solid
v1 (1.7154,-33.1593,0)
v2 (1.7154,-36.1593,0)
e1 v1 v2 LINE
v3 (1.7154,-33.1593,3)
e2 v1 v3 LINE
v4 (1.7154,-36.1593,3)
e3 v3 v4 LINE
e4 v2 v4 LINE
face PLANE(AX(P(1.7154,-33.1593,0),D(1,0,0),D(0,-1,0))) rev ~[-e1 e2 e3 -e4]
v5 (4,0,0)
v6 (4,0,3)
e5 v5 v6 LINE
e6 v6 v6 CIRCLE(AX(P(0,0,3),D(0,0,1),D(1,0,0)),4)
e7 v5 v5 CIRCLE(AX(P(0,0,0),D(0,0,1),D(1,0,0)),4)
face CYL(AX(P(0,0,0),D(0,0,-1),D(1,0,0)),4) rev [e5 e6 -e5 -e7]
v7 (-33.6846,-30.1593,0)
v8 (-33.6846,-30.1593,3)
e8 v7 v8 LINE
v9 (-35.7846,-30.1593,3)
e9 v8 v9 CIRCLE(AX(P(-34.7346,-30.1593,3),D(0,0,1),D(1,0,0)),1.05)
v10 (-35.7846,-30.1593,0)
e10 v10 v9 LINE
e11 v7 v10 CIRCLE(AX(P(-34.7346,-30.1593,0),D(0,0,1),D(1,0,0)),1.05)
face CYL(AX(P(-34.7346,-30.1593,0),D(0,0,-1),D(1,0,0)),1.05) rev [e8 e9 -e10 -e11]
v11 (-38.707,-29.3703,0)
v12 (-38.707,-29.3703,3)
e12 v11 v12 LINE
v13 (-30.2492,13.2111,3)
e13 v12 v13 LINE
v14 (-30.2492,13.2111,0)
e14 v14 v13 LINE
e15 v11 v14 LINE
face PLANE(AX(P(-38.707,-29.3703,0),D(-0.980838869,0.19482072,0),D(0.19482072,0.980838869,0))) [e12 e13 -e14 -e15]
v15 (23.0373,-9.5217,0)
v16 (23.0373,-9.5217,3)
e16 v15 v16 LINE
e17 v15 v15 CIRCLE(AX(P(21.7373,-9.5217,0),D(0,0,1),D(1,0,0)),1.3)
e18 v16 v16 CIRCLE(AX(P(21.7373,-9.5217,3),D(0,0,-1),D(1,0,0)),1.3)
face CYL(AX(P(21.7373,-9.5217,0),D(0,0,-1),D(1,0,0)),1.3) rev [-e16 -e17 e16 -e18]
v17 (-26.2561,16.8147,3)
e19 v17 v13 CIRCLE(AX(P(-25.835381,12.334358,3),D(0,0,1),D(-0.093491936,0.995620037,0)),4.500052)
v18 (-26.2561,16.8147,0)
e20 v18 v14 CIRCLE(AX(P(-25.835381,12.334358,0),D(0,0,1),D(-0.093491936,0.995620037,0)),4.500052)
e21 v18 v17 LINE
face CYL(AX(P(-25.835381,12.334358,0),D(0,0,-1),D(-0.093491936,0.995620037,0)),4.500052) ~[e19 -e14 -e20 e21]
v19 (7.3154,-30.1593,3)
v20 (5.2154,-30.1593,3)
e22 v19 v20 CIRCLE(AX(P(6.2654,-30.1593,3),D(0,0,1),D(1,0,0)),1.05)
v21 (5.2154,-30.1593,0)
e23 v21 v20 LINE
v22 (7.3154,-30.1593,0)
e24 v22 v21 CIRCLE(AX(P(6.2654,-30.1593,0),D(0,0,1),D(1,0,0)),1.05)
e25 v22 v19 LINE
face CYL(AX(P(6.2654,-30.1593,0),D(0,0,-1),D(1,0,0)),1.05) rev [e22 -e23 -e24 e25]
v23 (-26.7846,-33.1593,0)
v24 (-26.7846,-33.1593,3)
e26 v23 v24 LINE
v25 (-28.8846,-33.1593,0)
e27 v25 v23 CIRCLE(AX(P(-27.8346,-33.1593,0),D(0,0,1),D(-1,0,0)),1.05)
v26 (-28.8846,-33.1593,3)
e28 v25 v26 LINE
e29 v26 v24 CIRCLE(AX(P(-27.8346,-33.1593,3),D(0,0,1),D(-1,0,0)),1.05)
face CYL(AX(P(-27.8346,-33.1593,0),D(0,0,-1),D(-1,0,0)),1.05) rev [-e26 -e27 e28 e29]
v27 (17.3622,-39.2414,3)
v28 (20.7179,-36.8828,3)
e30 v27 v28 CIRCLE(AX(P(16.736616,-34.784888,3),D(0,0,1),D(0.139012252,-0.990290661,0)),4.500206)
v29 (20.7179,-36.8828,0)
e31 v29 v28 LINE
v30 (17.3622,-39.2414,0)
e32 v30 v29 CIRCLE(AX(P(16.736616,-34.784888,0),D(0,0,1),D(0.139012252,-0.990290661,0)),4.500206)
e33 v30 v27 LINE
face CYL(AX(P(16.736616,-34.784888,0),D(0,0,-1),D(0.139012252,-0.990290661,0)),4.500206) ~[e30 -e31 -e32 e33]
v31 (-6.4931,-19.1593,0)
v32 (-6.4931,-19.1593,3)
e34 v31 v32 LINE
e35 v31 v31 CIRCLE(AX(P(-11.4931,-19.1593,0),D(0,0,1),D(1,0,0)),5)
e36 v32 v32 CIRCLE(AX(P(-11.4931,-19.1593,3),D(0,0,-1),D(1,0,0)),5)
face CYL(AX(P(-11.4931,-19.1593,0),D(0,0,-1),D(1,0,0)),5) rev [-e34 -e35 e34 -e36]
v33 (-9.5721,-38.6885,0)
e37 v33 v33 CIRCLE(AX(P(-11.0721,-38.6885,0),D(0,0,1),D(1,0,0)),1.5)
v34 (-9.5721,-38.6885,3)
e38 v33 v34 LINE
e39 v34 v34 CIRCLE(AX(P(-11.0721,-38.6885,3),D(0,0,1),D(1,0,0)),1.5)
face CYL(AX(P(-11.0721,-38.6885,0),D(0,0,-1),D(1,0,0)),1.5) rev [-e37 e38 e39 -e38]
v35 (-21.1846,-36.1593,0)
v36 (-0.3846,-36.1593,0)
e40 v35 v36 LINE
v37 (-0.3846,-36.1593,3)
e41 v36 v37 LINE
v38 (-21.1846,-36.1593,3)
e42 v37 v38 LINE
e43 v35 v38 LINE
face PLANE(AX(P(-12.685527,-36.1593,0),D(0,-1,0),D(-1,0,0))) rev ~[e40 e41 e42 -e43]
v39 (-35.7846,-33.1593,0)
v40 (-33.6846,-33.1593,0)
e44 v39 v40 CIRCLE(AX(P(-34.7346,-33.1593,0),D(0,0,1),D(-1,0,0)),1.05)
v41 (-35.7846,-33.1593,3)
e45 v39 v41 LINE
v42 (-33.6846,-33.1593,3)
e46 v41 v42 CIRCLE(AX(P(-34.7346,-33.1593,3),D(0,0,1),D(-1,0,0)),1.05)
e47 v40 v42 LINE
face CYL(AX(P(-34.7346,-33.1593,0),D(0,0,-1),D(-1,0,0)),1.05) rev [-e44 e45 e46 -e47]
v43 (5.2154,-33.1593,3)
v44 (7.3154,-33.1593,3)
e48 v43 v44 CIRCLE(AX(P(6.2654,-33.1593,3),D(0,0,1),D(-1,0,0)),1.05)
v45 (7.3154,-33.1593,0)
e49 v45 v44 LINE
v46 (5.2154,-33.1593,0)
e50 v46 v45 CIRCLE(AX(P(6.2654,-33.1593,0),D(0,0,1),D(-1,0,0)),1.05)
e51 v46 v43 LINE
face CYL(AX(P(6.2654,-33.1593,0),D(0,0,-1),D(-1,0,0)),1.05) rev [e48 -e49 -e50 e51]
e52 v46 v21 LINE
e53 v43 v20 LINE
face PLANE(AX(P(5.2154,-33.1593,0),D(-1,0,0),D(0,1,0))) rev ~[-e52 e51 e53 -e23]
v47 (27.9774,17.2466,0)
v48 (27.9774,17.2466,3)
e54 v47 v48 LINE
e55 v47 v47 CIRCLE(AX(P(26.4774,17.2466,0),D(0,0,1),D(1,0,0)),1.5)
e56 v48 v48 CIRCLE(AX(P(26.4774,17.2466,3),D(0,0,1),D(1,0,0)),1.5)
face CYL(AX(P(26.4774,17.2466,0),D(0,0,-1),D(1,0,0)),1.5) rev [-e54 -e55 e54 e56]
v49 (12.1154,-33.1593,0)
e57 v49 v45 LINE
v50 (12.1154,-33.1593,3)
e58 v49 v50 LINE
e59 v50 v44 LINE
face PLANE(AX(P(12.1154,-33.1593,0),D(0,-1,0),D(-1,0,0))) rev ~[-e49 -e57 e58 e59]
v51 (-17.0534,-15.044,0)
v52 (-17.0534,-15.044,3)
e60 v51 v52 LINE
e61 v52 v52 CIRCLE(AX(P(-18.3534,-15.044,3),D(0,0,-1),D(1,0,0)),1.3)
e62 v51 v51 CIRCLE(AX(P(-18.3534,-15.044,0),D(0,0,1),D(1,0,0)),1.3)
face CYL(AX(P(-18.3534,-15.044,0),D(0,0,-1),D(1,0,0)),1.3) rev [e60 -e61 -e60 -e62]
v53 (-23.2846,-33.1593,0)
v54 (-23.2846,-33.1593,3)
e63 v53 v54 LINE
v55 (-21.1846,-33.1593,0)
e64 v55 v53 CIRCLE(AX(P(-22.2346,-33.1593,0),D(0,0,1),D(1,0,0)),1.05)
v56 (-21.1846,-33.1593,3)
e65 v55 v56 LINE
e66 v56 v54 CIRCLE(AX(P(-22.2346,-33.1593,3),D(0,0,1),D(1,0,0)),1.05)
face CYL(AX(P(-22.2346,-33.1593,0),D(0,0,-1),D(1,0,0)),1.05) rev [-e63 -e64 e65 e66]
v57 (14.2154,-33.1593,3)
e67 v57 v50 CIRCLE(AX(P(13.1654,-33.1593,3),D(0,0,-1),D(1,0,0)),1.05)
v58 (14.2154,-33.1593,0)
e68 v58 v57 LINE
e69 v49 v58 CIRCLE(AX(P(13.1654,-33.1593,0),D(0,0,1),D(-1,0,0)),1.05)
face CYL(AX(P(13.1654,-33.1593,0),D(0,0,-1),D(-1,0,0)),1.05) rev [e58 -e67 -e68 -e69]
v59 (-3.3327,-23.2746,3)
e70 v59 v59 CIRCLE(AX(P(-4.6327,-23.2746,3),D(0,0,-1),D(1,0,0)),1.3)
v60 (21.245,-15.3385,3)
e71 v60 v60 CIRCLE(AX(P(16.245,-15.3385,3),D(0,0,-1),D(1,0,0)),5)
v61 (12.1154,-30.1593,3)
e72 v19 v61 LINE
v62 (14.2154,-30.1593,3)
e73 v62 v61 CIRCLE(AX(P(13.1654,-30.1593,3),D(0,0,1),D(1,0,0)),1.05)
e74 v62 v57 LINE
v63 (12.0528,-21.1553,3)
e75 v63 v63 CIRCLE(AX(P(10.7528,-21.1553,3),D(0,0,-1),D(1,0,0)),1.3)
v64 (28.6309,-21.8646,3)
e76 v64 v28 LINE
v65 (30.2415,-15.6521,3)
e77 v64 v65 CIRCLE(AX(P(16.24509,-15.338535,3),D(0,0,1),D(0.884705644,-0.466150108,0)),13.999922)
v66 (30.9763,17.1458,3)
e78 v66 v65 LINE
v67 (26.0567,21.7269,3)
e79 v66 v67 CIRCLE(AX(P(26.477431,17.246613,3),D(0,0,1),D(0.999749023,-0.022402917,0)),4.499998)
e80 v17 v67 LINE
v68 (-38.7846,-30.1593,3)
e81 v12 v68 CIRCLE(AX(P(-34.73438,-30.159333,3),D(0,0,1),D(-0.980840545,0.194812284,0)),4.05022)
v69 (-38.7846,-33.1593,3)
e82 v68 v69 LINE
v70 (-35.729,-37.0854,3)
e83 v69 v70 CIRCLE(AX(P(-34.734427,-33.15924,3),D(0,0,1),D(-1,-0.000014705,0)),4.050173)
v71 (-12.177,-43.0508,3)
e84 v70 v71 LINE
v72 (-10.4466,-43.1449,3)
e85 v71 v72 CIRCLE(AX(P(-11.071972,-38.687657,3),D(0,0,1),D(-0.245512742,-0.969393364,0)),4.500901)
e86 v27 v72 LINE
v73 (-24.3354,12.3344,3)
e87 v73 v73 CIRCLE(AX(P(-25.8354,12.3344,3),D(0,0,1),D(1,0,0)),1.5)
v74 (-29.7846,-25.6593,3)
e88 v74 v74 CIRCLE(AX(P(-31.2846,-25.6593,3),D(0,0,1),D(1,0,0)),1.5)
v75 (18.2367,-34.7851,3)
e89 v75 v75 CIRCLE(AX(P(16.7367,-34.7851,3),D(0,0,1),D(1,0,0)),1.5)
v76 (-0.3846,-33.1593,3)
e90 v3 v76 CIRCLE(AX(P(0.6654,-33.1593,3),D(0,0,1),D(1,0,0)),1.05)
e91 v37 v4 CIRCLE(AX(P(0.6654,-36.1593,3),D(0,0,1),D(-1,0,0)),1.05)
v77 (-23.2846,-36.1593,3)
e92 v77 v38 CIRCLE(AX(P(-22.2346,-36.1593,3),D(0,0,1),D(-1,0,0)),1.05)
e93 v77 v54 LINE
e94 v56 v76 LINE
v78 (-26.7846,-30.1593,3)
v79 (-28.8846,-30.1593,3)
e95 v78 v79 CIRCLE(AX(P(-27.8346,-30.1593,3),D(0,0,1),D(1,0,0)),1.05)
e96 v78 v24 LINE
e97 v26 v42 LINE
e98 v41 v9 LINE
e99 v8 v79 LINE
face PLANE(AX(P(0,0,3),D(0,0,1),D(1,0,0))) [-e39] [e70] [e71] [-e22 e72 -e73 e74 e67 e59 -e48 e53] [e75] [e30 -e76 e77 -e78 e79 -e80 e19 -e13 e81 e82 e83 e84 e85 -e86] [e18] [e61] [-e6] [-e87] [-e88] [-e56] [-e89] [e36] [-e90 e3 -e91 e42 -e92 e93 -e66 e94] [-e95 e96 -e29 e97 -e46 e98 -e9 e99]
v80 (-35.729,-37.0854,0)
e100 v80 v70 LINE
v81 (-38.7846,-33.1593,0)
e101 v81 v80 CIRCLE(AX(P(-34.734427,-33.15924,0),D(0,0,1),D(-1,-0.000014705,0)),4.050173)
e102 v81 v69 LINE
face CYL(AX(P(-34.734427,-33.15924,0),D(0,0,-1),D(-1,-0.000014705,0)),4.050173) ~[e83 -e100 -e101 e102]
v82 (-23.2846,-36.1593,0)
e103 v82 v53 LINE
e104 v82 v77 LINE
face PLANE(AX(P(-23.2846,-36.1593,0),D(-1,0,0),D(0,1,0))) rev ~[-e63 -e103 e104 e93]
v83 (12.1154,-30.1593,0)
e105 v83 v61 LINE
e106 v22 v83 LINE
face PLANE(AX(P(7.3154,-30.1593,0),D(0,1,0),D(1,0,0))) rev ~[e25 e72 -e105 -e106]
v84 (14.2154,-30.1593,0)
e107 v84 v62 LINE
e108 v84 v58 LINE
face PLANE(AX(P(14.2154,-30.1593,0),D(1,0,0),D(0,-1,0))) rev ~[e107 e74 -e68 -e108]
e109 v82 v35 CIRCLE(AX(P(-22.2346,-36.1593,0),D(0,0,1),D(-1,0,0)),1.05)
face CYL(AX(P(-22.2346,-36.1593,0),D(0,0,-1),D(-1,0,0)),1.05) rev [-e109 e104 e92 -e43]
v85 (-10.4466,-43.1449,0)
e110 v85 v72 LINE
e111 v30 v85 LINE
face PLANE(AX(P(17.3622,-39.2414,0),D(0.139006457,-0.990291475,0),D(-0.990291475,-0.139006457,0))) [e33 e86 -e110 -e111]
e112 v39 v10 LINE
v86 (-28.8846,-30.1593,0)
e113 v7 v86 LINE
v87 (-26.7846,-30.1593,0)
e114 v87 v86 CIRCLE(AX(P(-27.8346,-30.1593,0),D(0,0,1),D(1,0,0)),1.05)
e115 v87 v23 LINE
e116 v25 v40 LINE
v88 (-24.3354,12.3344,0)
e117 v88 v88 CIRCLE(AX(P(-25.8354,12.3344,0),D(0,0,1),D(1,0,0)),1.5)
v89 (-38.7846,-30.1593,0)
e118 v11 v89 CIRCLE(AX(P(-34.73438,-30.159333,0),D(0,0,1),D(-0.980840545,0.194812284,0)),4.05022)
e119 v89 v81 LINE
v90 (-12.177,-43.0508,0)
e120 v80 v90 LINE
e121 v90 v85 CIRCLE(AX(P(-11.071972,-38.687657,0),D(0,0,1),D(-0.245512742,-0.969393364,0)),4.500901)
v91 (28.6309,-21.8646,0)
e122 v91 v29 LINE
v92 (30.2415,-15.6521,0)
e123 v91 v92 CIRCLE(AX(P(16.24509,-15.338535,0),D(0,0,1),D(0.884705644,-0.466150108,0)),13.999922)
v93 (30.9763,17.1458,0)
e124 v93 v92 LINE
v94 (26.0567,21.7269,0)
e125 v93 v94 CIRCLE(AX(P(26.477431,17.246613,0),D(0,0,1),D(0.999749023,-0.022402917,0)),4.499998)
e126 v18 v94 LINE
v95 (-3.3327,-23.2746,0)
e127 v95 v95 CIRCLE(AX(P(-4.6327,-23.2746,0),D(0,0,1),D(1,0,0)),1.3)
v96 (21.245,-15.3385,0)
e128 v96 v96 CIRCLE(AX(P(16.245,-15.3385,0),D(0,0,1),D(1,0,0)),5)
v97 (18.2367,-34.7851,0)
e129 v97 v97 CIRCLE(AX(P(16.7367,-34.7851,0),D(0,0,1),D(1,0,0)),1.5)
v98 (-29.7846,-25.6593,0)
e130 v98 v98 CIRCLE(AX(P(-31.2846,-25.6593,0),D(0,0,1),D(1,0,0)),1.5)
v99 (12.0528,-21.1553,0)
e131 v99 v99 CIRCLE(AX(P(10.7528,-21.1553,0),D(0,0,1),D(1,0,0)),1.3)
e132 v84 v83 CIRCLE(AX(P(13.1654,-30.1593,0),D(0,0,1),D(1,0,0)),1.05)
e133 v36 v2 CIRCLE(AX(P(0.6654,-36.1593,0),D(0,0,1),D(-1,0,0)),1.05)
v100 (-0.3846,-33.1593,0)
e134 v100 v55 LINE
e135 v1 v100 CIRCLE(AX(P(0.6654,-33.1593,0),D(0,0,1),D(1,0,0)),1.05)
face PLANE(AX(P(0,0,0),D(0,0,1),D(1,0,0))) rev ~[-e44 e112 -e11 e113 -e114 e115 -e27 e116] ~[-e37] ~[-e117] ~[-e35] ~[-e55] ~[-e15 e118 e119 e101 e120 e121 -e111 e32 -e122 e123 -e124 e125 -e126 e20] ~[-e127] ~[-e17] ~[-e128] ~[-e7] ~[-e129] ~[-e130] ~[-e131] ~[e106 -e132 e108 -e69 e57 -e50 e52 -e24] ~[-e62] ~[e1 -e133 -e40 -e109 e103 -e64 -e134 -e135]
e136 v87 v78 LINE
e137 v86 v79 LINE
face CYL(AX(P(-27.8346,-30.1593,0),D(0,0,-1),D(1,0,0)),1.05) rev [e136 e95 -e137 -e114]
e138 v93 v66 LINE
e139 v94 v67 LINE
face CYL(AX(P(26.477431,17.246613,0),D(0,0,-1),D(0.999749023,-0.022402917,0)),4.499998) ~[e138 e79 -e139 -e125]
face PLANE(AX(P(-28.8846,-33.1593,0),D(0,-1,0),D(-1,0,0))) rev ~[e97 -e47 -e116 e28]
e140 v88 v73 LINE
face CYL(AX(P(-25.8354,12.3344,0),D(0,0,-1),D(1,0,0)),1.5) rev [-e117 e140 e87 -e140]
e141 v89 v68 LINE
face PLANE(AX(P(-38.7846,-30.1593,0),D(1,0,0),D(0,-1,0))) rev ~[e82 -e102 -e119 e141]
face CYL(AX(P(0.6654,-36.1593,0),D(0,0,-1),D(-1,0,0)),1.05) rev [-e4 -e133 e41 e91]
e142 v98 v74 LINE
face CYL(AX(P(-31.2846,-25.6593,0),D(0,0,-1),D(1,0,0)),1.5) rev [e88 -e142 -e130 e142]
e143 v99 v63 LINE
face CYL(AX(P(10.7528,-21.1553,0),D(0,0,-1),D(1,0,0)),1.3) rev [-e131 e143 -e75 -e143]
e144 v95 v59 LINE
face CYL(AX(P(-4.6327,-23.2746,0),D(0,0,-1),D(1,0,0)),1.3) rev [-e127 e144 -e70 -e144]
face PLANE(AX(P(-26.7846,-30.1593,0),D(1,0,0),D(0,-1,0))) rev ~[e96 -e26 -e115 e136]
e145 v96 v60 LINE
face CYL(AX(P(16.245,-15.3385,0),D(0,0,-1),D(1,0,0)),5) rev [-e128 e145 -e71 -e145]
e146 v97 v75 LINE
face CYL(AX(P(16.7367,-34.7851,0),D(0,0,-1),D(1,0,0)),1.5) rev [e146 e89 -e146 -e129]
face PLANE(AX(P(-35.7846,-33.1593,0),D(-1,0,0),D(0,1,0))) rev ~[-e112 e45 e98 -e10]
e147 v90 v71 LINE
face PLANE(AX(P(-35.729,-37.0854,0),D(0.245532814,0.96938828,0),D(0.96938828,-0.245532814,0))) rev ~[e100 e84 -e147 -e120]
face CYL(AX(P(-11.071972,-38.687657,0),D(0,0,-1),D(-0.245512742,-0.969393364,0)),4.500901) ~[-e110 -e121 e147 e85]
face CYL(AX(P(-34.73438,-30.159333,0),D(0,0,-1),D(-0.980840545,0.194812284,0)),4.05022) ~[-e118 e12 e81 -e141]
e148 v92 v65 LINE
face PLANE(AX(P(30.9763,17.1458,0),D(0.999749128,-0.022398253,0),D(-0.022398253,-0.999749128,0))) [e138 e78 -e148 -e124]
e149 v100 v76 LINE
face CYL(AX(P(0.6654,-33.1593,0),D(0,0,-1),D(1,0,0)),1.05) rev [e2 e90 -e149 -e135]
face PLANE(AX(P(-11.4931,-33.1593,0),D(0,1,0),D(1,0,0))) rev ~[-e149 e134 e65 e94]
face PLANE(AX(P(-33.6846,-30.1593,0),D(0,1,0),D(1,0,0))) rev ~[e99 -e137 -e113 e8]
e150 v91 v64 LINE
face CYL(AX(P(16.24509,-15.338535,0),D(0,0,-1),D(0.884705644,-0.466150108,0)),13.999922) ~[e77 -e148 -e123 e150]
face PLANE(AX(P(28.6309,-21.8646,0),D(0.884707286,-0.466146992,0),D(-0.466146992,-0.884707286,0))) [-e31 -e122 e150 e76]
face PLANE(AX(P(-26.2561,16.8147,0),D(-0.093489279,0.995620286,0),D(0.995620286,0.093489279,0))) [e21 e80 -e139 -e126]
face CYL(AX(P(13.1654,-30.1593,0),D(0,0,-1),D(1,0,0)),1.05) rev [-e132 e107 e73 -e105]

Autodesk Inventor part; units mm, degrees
ref_plane "YZ Plane" through (0, 0, 0) normal (1, 0, 0) x (0, 1, 0)
ref_plane "XZ Plane" through (0, 0, 0) normal (0, 1, 0) x (-1, 0, 0)
ref_plane "XY Plane" through (0, 0, 0) normal (0, 0, 1) x (1, 0, 0)
sketch "スケッチ1" plane through (0, 0, 0) normal (0, 0, 1) x (1, 0, 0)
  circle A0 centre (0, 0) radius 18
  circle A1 centre (-35.3982, 10.7044) radius 1.5
  line L0 (-33.8465, 6.7744) -> (-39.6634, 9.2696)
  arc A2 (-31.9879, 5.2949) -> (-33.8465, 6.7744) centre (-35.6204, 2.6388) ccw
  line L1 (-18.0583, -13.7557) -> (-31.9879, 5.2949)
  arc A3 (-17.339, -17.5569) -> (-18.0583, -13.7557) centre (-21.6908, -16.4118) ccw
  line L2 (-17.339, -17.5569) -> (-23.8868, -42.4405)
  line L3 (21.0739, -11.4259) -> (29.592, -35.7057)
  arc A4 (21.5077, -7.5456) -> (21.0739, -11.4259) centre (25.3202, -9.9362) ccw
  line L4 (34.045, 12.4488) -> (21.5077, -7.5456)
  arc A5 (36.6836, 14.4025) -> (34.045, 12.4488) centre (37.8575, 10.0583) ccw
  line L5 (40.7974, 15.5141) -> (36.6836, 14.4025)
  circle A6 centre (36.7736, 17.5344) radius 1.5
  circle A7 centre (25.6508, -33.5339) radius 1.5
  circle A8 centre (-20.132, -39.9603) radius 1.5
  arc A9 (-23.8868, -42.4405) -> (-19.5065, -44.4166) centre (-20.132, -39.9603) ccw
  line L6 (-19.5065, -44.4166) -> (26.2763, -37.9902)
  arc A10 (26.2763, -37.9902) -> (29.592, -35.7057) centre (25.6508, -33.5339) ccw
  circle A11 centre (27.3908, 10.6821) radius 1.5
  arc A12 (-36.1544, 15.1404) -> (-39.6634, 9.2696) centre (-35.3982, 10.7044) ccw
  arc A13 (40.7942, 15.5132) -> (36.6479, 22.0326) centre (36.7736, 17.5344) ccw
  arc A14 (-0.5868, 20.9918) -> (-3.5285, 20.7014) centre (0, 0) ccw
  line L7 (-36.1544, 15.1404) -> (-3.5285, 20.7014)
  line L8 (-0.5868, 20.9918) -> (36.6479, 22.0326)
  circle A15 centre (14, -17.4118) radius 14 construction
  circle A16 centre (-14, -17.4118) radius 14 construction
  line L9 (-170.6512, -31.4118) -> (202.8656, -31.4118)
  circle A17 centre (-11.0721, -38.6885) radius 3
  circle A18 centre (16.7367, -34.7851) radius 3
  circle A19 centre (26.4774, 17.2466) radius 3
  circle A20 centre (-25.8354, 12.3344) radius 3
  circle A21 centre (0, 0) radius 20.55 construction
  circle A22 centre (-25.8354, 12.3344) radius 1.5
  circle A23 centre (26.4774, 17.2466) radius 1.5
  circle A24 centre (16.7367, -34.7851) radius 1.5
  circle A25 centre (-11.0721, -38.6885) radius 1.5
  circle A26 centre (-11.0721, -38.6885) radius 4.5
  circle A27 centre (16.7367, -34.7851) radius 4.5
  circle A28 centre (26.4774, 17.2466) radius 4.5
  circle A29 centre (-25.8354, 12.3344) radius 4.5
  line L10 (32.7821, 19.6122) -> (19.0889, -6.6924)
  line L11 (-15.7064, -12.7325) -> (-31.5648, 13.0613)
  line L12 (-15.6358, -40.1451) -> (-14.6718, -16.7004)
  line L13 (18.3467, -10.7856) -> (21.1838, -34.078)
  circle A30 centre (0, 0) radius 4
  circle A31 centre (-25.8354, 12.3344) radius 1.5
  circle A32 centre (26.4774, 17.2466) radius 1.5
  circle A33 centre (16.7367, -34.7851) radius 1.5
  circle A34 centre (-11.0721, -38.6885) radius 1.5
  circle A35 centre (14, -17.4118) radius 14 construction
  circle A36 centre (-14, -17.4118) radius 14 construction
  circle A37 centre (0, 0) radius 4
  arc A38 (-26.2561, 16.8147) -> (-29.9839, 14.078) centre (-25.8354, 12.3344) ccw
  arc A39 (30.9006, 16.4185) -> (26.0567, 21.7269) centre (26.4774, 17.2466) ccw
  arc A40 (17.3622, -39.2414) -> (21.1599, -35.6132) centre (16.7367, -34.7851) ccw
  arc A41 (-12.1183, -43.0652) -> (-10.4466, -43.1449) centre (-11.0721, -38.6885) ccw
  circle A42 centre (-14, -17.4118) radius 5
  circle A43 centre (14, -17.4118) radius 5
  circle A44 centre (0, 0) radius 22.3421 construction
  line L14 (-30.3415, -4.2724) -> (0, -28.6685) construction
  line L15 (0, -28.6685) -> (32.9859, -2.1461) construction
  circle A45 centre (-14, -17.4118) radius 8 construction
  circle A46 centre (14, -17.4118) radius 8 construction
  circle A47 centre (-20.2346, -12.3988) radius 1.3
  circle A48 centre (-7.7654, -22.4248) radius 1.3
  circle A49 centre (7.7654, -22.4248) radius 1.3
  circle A50 centre (20.2346, -12.3988) radius 1.3
  line L16 (-170.6512, -31.4118) -> (202.8656, -31.4118)
  line L17 (-42.4, -28.4118) -> (-37.6, -28.4118)
  line L18 (-35.5, -28.4118) -> (-35.5, -31.4118)
  line L19 (-37.6, -31.4118) -> (-42.4, -31.4118)
  line L20 (-44.5, -31.4118) -> (-44.5, -28.4118)
  line L21 (-2.4, -28.4118) -> (2.4, -28.4118)
  line L22 (4.5, -28.4118) -> (4.5, -31.4118)
  line L23 (2.4, -31.4118) -> (-2.4, -31.4118)
  line L24 (-4.5, -31.4118) -> (-4.5, -28.4118)
  line L25 (-30.4, -31.4118) -> (-9.6, -31.4118)
  line L26 (-7.5, -31.4118) -> (-7.5, -34.4118)
  line L27 (-9.6, -34.4118) -> (-30.4, -34.4118)
  line L28 (-32.5, -34.4118) -> (-32.5, -31.4118)
  arc A51 (-42.4, -28.4118) -> (-44.5, -28.4118) centre (-43.45, -28.4118) ccw
  arc A52 (-35.5, -28.4118) -> (-37.6, -28.4118) centre (-36.55, -28.4118) ccw
  arc A53 (-44.5, -31.4118) -> (-42.4, -31.4118) centre (-43.45, -31.4118) ccw
  arc A54 (-37.6, -31.4118) -> (-35.5, -31.4118) centre (-36.55, -31.4118) ccw
  arc A55 (-30.4, -31.4118) -> (-32.5, -31.4118) centre (-31.45, -31.4118) ccw
  arc A56 (-32.5, -34.4118) -> (-30.4, -34.4118) centre (-31.45, -34.4118) ccw
  arc A57 (-7.5, -31.4118) -> (-9.6, -31.4118) centre (-8.55, -31.4118) ccw
  arc A58 (-9.6, -34.4118) -> (-7.5, -34.4118) centre (-8.55, -34.4118) ccw
  arc A59 (-4.5, -31.4118) -> (-2.4, -31.4118) centre (-3.45, -31.4118) ccw
  arc A60 (-2.4, -28.4118) -> (-4.5, -28.4118) centre (-3.45, -28.4118) ccw
  arc A61 (4.5, -28.4118) -> (2.4, -28.4118) centre (3.45, -28.4118) ccw
  arc A62 (2.4, -31.4118) -> (4.5, -31.4118) centre (3.45, -31.4118) ccw
  circle A63 centre (-40, -23.9118) radius 1.5
  circle A64 centre (-40, -23.9118) radius 4.5 construction
  arc A65 (-35.5, -24.5003) -> (-35.5374, -24.4904) centre (-36.55, -28.4118) ccw
  line L29 (-47.5, -28.4118) -> (-47.5, -31.4118)
  arc A66 (-47.5, -31.4118) -> (-44.3916, -35.3508) centre (-43.45, -31.4118) ccw
  line L30 (-47.1836, -26.8425) -> (-29.9839, 14.078)
  line L31 (-26.2561, 16.8147) -> (26.0567, 21.7269)
  line L32 (30.9006, 16.4185) -> (21.1599, -35.6132)
  line L33 (17.3622, -39.2414) -> (-10.4466, -43.1449)
  line L34 (-44.3916, -35.3508) -> (-12.1183, -43.0652)
  arc A67 (-47.1836, -26.8425) -> (-47.5, -28.4118) centre (-43.45, -28.4118) ccw
  circle A68 centre (-11.4931, -19.1593) radius 4
  circle A69 centre (16.245, -15.3385) radius 4
  dimension "d74" = 9
  dimension "d0" = 36
  dimension "d1" = 9
  dimension "d2" = 9
  dimension "d3" = 3
  dimension "d4" = 6
  dimension "d5" = 6
  dimension "d6" = 6
  dimension "d7" = 6
  dimension "d8" = 3
  dimension "d9" = 3
  dimension "d10" = 3
  dimension "d11" = 3
  dimension "d12" = 9
  dimension "d13" = 9
  dimension "d14" = 9
  dimension "d15" = 9
  dimension "d16" = 8
  dimension "d50" = 3
  dimension "d51" = 3
  dimension "d52" = 3
  dimension "d53" = 3
  dimension "d54" = 10
  dimension "d55" = 10
  dimension "d56" = 3
  dimension "d57" = 3
  dimension "d58" = 2.6
  dimension "d59" = 2.6
  dimension "d60" = 2.6
  dimension "d61" = 2.6
  dimension "d62" = 9
  dimension "d63" = 3
  dimension "d64" = 9
  dimension "d65" = 3
  dimension "d66" = 4.5
  dimension "d67" = 40
  dimension "d68" = 25
  dimension "d69" = 3
  dimension "d70" = 3
  dimension "d71" = 3
  dimension "d72" = 2.1
  dimension "d73" = 3
  dimension "d75" = 4.5
  dimension "d76" = 3
  dimension "d77" = 3
  dimension "d78" = 4.05
sketch "スケッチ2" plane through (0, 0, 0) normal (0, 0, 1) x (1, 0, 0)
  circle A0 centre (-25.8354, 12.3344) radius 1.5 projected
  circle A1 centre (26.4774, 17.2466) radius 1.5 projected
  circle A2 centre (16.7367, -34.7851) radius 1.5 projected
  circle A3 centre (-11.0721, -38.6885) radius 1.5 projected
  circle A4 centre (14, -17.4118) radius 14 construction
  circle A5 centre (-14, -17.4118) radius 14 construction
  circle A6 centre (0, 0) radius 4 projected
  arc A7 (-26.2561, 16.8147) -> (-30.2492, 13.2111) centre (-25.8354, 12.3344) ccw
  arc A8 (30.9763, 17.1458) -> (26.0567, 21.7269) centre (26.4774, 17.2466) ccw
  arc A9 (17.3622, -39.2414) -> (20.7179, -36.8828) centre (16.7367, -34.7851) ccw
  arc A10 (-12.177, -43.0508) -> (-10.4466, -43.1449) centre (-11.0721, -38.6885) ccw
  circle A11 centre (-14, -17.4118) radius 5
  circle A12 centre (14, -17.4118) radius 5
  circle A13 centre (0, 0) radius 22.3421 construction
  line L0 (-30.3415, -4.2724) -> (0, -28.6685) construction
  line L1 (0, -28.6685) -> (32.9859, -2.1461) construction
  circle A14 centre (-14, -17.4118) radius 8 construction
  circle A15 centre (14, -17.4118) radius 8 construction
  circle A16 centre (-20.2346, -12.3988) radius 1.3
  circle A17 centre (-7.7654, -22.4248) radius 1.3
  circle A18 centre (7.7654, -22.4248) radius 1.3
  circle A19 centre (20.2346, -12.3988) radius 1.3
  line L2 (-33.6846, -30.1593) -> (-28.8846, -30.1593)
  line L3 (-26.7846, -30.1593) -> (-26.7846, -33.1593)
  line L4 (-28.8846, -33.1593) -> (-33.6846, -33.1593)
  line L5 (-35.7846, -33.1593) -> (-35.7846, -30.1593)
  line L6 (7.3154, -30.1593) -> (12.1154, -30.1593)
  line L7 (14.2154, -30.1593) -> (14.2154, -33.1593)
  line L8 (12.1154, -33.1593) -> (7.3154, -33.1593)
  line L9 (5.2154, -33.1593) -> (5.2154, -30.1593)
  line L10 (-21.1846, -33.1593) -> (-0.3846, -33.1593)
  line L11 (1.7154, -33.1593) -> (1.7154, -36.1593)
  line L12 (-0.3846, -36.1593) -> (-21.1846, -36.1593)
  line L13 (-23.2846, -36.1593) -> (-23.2846, -33.1593)
  arc A20 (-33.6846, -30.1593) -> (-35.7846, -30.1593) centre (-34.7346, -30.1593) ccw
  arc A21 (-26.7846, -30.1593) -> (-28.8846, -30.1593) centre (-27.8346, -30.1593) ccw
  arc A22 (-35.7846, -33.1593) -> (-33.6846, -33.1593) centre (-34.7346, -33.1593) ccw
  arc A23 (-28.8846, -33.1593) -> (-26.7846, -33.1593) centre (-27.8346, -33.1593) ccw
  arc A24 (-21.1846, -33.1593) -> (-23.2846, -33.1593) centre (-22.2346, -33.1593) ccw
  arc A25 (-23.2846, -36.1593) -> (-21.1846, -36.1593) centre (-22.2346, -36.1593) ccw
  arc A26 (1.7154, -33.1593) -> (-0.3846, -33.1593) centre (0.6654, -33.1593) ccw
  arc A27 (-0.3846, -36.1593) -> (1.7154, -36.1593) centre (0.6654, -36.1593) ccw
  arc A28 (5.2154, -33.1593) -> (7.3154, -33.1593) centre (6.2654, -33.1593) ccw
  arc A29 (7.3154, -30.1593) -> (5.2154, -30.1593) centre (6.2654, -30.1593) ccw
  arc A30 (14.2154, -30.1593) -> (12.1154, -30.1593) centre (13.1654, -30.1593) ccw
  arc A31 (12.1154, -33.1593) -> (14.2154, -33.1593) centre (13.1654, -33.1593) ccw
  circle A32 centre (-31.2846, -25.6593) radius 1.5
  circle A33 centre (-31.2846, -25.6593) radius 4.5 construction
  line L14 (-38.7846, -30.1593) -> (-38.7846, -33.1593)
  arc A34 (-38.7846, -33.1593) -> (-35.729, -37.0854) centre (-34.7346, -33.1593) ccw
  line L15 (-38.707, -29.3703) -> (-30.2492, 13.2111)
  line L16 (-26.2561, 16.8147) -> (26.0567, 21.7269)
  line L17 (17.3622, -39.2414) -> (-10.4466, -43.1449)
  line L18 (-35.729, -37.0854) -> (-12.177, -43.0508)
  arc A35 (-38.707, -29.3703) -> (-38.7846, -30.1593) centre (-34.7346, -30.1593) ccw
  circle A36 centre (-11.4931, -19.1593) radius 4 construction
  circle A37 centre (16.245, -15.3385) radius 4 construction
  circle A38 centre (-11.4931, -19.1593) radius 5
  circle A39 centre (16.245, -15.3385) radius 5
  line L19 (-26.4603, -10.181) -> (3.9121, -28.4004) construction
  line L20 (3.9121, -28.4004) -> (26.0888, -4.913) construction
  circle A40 centre (-11.4931, -19.1593) radius 8 construction
  circle A41 centre (16.245, -15.3385) radius 8 construction
  circle A42 centre (-18.3534, -15.044) radius 1.3
  circle A43 centre (-4.6327, -23.2746) radius 1.3
  circle A44 centre (10.7528, -21.1553) radius 1.3
  circle A45 centre (21.7373, -9.5217) radius 1.3
  circle A46 centre (-11.4931, -19.1593) radius 14
  arc A47 (28.6309, -21.8646) -> (30.2415, -15.6521) centre (16.245, -15.3385) ccw
  circle A48 centre (16.7367, -34.7851) radius 3
  line L21 (30.9763, 17.1458) -> (30.2415, -15.6521)
  line L22 (28.6309, -21.8646) -> (20.7179, -36.8828)
  circle A49 centre (-11.0721, -38.6885) radius 3
  dimension "d91" = 6
  dimension "d17" = 3
  dimension "d18" = 3
  dimension "d19" = 3
  dimension "d20" = 3
  dimension "d21" = 10
  dimension "d22" = 10
  dimension "d23" = 3
  dimension "d24" = 3
  dimension "d25" = 2.6
  dimension "d26" = 2.6
  dimension "d27" = 2.6
  dimension "d28" = 2.6
  dimension "d29" = 9
  dimension "d30" = 3
  dimension "d31" = 9
  dimension "d32" = 3
  dimension "d35" = 25
  dimension "d36" = 3
  dimension "d37" = 3.5
  dimension "d38" = 3.5
  dimension "d39" = 2.1
  dimension "d40" = 3
  dimension "d42" = 9
  dimension "d44" = 4.5
  dimension "d45" = 3
  dimension "d46" = 3
  dimension "d47" = 4.05
  dimension "d79" = 10
  dimension "d80" = 10
  dimension "d81" = 3
  dimension "d82" = 3
  dimension "d83" = 2.6
  dimension "d84" = 2.6
  dimension "d85" = 2.6
  dimension "d86" = 2.6
  dimension "d89" = 28
  dimension "d90" = 28
  dimension "d92" = 50
  dimension "d93" = 6
extrude "押し出し1" add sketch "スケッチ2" along normal blind 3 contours L16 A8 L21 A47 L22 A9 L17 A10 L18 A34 L14 A35 L15 A7 | A11 A38 | A11 A38 A17 | A38 A11 A42 | A42 A11 | A11 A42 | A38 A17 | A17 A38 | A12 A39 | A12 A39 A19 | A39 A12 A44 | A44 A12 | A12 A44 | A39 A19 | A19 A39 | A16 | A18 | A48 A31 | A46 | L12 A49 | A43 | A45 picked at (19.1924, -35.1468) picked at (-11.0118, -36.506)
extrude "押し出し2" cut sketch "スケッチ2" along normal blind 10 contours A11 A38 | A11 A38 A17 | A42 A11 | A11 A42 | A17 A38 | A12 A39 | A12 A39 A19 | A44 A12 | A12 A44 | A39 A19 | A43 | A45 picked at (-8.0787, -22.1504) picked at (19.8993, -12.6458)
equation "\"d71\" = d70"
equation "\"d38\" = d37"
properties part number "脚モーターマウント" material "アルミニウム 2014-T4"
